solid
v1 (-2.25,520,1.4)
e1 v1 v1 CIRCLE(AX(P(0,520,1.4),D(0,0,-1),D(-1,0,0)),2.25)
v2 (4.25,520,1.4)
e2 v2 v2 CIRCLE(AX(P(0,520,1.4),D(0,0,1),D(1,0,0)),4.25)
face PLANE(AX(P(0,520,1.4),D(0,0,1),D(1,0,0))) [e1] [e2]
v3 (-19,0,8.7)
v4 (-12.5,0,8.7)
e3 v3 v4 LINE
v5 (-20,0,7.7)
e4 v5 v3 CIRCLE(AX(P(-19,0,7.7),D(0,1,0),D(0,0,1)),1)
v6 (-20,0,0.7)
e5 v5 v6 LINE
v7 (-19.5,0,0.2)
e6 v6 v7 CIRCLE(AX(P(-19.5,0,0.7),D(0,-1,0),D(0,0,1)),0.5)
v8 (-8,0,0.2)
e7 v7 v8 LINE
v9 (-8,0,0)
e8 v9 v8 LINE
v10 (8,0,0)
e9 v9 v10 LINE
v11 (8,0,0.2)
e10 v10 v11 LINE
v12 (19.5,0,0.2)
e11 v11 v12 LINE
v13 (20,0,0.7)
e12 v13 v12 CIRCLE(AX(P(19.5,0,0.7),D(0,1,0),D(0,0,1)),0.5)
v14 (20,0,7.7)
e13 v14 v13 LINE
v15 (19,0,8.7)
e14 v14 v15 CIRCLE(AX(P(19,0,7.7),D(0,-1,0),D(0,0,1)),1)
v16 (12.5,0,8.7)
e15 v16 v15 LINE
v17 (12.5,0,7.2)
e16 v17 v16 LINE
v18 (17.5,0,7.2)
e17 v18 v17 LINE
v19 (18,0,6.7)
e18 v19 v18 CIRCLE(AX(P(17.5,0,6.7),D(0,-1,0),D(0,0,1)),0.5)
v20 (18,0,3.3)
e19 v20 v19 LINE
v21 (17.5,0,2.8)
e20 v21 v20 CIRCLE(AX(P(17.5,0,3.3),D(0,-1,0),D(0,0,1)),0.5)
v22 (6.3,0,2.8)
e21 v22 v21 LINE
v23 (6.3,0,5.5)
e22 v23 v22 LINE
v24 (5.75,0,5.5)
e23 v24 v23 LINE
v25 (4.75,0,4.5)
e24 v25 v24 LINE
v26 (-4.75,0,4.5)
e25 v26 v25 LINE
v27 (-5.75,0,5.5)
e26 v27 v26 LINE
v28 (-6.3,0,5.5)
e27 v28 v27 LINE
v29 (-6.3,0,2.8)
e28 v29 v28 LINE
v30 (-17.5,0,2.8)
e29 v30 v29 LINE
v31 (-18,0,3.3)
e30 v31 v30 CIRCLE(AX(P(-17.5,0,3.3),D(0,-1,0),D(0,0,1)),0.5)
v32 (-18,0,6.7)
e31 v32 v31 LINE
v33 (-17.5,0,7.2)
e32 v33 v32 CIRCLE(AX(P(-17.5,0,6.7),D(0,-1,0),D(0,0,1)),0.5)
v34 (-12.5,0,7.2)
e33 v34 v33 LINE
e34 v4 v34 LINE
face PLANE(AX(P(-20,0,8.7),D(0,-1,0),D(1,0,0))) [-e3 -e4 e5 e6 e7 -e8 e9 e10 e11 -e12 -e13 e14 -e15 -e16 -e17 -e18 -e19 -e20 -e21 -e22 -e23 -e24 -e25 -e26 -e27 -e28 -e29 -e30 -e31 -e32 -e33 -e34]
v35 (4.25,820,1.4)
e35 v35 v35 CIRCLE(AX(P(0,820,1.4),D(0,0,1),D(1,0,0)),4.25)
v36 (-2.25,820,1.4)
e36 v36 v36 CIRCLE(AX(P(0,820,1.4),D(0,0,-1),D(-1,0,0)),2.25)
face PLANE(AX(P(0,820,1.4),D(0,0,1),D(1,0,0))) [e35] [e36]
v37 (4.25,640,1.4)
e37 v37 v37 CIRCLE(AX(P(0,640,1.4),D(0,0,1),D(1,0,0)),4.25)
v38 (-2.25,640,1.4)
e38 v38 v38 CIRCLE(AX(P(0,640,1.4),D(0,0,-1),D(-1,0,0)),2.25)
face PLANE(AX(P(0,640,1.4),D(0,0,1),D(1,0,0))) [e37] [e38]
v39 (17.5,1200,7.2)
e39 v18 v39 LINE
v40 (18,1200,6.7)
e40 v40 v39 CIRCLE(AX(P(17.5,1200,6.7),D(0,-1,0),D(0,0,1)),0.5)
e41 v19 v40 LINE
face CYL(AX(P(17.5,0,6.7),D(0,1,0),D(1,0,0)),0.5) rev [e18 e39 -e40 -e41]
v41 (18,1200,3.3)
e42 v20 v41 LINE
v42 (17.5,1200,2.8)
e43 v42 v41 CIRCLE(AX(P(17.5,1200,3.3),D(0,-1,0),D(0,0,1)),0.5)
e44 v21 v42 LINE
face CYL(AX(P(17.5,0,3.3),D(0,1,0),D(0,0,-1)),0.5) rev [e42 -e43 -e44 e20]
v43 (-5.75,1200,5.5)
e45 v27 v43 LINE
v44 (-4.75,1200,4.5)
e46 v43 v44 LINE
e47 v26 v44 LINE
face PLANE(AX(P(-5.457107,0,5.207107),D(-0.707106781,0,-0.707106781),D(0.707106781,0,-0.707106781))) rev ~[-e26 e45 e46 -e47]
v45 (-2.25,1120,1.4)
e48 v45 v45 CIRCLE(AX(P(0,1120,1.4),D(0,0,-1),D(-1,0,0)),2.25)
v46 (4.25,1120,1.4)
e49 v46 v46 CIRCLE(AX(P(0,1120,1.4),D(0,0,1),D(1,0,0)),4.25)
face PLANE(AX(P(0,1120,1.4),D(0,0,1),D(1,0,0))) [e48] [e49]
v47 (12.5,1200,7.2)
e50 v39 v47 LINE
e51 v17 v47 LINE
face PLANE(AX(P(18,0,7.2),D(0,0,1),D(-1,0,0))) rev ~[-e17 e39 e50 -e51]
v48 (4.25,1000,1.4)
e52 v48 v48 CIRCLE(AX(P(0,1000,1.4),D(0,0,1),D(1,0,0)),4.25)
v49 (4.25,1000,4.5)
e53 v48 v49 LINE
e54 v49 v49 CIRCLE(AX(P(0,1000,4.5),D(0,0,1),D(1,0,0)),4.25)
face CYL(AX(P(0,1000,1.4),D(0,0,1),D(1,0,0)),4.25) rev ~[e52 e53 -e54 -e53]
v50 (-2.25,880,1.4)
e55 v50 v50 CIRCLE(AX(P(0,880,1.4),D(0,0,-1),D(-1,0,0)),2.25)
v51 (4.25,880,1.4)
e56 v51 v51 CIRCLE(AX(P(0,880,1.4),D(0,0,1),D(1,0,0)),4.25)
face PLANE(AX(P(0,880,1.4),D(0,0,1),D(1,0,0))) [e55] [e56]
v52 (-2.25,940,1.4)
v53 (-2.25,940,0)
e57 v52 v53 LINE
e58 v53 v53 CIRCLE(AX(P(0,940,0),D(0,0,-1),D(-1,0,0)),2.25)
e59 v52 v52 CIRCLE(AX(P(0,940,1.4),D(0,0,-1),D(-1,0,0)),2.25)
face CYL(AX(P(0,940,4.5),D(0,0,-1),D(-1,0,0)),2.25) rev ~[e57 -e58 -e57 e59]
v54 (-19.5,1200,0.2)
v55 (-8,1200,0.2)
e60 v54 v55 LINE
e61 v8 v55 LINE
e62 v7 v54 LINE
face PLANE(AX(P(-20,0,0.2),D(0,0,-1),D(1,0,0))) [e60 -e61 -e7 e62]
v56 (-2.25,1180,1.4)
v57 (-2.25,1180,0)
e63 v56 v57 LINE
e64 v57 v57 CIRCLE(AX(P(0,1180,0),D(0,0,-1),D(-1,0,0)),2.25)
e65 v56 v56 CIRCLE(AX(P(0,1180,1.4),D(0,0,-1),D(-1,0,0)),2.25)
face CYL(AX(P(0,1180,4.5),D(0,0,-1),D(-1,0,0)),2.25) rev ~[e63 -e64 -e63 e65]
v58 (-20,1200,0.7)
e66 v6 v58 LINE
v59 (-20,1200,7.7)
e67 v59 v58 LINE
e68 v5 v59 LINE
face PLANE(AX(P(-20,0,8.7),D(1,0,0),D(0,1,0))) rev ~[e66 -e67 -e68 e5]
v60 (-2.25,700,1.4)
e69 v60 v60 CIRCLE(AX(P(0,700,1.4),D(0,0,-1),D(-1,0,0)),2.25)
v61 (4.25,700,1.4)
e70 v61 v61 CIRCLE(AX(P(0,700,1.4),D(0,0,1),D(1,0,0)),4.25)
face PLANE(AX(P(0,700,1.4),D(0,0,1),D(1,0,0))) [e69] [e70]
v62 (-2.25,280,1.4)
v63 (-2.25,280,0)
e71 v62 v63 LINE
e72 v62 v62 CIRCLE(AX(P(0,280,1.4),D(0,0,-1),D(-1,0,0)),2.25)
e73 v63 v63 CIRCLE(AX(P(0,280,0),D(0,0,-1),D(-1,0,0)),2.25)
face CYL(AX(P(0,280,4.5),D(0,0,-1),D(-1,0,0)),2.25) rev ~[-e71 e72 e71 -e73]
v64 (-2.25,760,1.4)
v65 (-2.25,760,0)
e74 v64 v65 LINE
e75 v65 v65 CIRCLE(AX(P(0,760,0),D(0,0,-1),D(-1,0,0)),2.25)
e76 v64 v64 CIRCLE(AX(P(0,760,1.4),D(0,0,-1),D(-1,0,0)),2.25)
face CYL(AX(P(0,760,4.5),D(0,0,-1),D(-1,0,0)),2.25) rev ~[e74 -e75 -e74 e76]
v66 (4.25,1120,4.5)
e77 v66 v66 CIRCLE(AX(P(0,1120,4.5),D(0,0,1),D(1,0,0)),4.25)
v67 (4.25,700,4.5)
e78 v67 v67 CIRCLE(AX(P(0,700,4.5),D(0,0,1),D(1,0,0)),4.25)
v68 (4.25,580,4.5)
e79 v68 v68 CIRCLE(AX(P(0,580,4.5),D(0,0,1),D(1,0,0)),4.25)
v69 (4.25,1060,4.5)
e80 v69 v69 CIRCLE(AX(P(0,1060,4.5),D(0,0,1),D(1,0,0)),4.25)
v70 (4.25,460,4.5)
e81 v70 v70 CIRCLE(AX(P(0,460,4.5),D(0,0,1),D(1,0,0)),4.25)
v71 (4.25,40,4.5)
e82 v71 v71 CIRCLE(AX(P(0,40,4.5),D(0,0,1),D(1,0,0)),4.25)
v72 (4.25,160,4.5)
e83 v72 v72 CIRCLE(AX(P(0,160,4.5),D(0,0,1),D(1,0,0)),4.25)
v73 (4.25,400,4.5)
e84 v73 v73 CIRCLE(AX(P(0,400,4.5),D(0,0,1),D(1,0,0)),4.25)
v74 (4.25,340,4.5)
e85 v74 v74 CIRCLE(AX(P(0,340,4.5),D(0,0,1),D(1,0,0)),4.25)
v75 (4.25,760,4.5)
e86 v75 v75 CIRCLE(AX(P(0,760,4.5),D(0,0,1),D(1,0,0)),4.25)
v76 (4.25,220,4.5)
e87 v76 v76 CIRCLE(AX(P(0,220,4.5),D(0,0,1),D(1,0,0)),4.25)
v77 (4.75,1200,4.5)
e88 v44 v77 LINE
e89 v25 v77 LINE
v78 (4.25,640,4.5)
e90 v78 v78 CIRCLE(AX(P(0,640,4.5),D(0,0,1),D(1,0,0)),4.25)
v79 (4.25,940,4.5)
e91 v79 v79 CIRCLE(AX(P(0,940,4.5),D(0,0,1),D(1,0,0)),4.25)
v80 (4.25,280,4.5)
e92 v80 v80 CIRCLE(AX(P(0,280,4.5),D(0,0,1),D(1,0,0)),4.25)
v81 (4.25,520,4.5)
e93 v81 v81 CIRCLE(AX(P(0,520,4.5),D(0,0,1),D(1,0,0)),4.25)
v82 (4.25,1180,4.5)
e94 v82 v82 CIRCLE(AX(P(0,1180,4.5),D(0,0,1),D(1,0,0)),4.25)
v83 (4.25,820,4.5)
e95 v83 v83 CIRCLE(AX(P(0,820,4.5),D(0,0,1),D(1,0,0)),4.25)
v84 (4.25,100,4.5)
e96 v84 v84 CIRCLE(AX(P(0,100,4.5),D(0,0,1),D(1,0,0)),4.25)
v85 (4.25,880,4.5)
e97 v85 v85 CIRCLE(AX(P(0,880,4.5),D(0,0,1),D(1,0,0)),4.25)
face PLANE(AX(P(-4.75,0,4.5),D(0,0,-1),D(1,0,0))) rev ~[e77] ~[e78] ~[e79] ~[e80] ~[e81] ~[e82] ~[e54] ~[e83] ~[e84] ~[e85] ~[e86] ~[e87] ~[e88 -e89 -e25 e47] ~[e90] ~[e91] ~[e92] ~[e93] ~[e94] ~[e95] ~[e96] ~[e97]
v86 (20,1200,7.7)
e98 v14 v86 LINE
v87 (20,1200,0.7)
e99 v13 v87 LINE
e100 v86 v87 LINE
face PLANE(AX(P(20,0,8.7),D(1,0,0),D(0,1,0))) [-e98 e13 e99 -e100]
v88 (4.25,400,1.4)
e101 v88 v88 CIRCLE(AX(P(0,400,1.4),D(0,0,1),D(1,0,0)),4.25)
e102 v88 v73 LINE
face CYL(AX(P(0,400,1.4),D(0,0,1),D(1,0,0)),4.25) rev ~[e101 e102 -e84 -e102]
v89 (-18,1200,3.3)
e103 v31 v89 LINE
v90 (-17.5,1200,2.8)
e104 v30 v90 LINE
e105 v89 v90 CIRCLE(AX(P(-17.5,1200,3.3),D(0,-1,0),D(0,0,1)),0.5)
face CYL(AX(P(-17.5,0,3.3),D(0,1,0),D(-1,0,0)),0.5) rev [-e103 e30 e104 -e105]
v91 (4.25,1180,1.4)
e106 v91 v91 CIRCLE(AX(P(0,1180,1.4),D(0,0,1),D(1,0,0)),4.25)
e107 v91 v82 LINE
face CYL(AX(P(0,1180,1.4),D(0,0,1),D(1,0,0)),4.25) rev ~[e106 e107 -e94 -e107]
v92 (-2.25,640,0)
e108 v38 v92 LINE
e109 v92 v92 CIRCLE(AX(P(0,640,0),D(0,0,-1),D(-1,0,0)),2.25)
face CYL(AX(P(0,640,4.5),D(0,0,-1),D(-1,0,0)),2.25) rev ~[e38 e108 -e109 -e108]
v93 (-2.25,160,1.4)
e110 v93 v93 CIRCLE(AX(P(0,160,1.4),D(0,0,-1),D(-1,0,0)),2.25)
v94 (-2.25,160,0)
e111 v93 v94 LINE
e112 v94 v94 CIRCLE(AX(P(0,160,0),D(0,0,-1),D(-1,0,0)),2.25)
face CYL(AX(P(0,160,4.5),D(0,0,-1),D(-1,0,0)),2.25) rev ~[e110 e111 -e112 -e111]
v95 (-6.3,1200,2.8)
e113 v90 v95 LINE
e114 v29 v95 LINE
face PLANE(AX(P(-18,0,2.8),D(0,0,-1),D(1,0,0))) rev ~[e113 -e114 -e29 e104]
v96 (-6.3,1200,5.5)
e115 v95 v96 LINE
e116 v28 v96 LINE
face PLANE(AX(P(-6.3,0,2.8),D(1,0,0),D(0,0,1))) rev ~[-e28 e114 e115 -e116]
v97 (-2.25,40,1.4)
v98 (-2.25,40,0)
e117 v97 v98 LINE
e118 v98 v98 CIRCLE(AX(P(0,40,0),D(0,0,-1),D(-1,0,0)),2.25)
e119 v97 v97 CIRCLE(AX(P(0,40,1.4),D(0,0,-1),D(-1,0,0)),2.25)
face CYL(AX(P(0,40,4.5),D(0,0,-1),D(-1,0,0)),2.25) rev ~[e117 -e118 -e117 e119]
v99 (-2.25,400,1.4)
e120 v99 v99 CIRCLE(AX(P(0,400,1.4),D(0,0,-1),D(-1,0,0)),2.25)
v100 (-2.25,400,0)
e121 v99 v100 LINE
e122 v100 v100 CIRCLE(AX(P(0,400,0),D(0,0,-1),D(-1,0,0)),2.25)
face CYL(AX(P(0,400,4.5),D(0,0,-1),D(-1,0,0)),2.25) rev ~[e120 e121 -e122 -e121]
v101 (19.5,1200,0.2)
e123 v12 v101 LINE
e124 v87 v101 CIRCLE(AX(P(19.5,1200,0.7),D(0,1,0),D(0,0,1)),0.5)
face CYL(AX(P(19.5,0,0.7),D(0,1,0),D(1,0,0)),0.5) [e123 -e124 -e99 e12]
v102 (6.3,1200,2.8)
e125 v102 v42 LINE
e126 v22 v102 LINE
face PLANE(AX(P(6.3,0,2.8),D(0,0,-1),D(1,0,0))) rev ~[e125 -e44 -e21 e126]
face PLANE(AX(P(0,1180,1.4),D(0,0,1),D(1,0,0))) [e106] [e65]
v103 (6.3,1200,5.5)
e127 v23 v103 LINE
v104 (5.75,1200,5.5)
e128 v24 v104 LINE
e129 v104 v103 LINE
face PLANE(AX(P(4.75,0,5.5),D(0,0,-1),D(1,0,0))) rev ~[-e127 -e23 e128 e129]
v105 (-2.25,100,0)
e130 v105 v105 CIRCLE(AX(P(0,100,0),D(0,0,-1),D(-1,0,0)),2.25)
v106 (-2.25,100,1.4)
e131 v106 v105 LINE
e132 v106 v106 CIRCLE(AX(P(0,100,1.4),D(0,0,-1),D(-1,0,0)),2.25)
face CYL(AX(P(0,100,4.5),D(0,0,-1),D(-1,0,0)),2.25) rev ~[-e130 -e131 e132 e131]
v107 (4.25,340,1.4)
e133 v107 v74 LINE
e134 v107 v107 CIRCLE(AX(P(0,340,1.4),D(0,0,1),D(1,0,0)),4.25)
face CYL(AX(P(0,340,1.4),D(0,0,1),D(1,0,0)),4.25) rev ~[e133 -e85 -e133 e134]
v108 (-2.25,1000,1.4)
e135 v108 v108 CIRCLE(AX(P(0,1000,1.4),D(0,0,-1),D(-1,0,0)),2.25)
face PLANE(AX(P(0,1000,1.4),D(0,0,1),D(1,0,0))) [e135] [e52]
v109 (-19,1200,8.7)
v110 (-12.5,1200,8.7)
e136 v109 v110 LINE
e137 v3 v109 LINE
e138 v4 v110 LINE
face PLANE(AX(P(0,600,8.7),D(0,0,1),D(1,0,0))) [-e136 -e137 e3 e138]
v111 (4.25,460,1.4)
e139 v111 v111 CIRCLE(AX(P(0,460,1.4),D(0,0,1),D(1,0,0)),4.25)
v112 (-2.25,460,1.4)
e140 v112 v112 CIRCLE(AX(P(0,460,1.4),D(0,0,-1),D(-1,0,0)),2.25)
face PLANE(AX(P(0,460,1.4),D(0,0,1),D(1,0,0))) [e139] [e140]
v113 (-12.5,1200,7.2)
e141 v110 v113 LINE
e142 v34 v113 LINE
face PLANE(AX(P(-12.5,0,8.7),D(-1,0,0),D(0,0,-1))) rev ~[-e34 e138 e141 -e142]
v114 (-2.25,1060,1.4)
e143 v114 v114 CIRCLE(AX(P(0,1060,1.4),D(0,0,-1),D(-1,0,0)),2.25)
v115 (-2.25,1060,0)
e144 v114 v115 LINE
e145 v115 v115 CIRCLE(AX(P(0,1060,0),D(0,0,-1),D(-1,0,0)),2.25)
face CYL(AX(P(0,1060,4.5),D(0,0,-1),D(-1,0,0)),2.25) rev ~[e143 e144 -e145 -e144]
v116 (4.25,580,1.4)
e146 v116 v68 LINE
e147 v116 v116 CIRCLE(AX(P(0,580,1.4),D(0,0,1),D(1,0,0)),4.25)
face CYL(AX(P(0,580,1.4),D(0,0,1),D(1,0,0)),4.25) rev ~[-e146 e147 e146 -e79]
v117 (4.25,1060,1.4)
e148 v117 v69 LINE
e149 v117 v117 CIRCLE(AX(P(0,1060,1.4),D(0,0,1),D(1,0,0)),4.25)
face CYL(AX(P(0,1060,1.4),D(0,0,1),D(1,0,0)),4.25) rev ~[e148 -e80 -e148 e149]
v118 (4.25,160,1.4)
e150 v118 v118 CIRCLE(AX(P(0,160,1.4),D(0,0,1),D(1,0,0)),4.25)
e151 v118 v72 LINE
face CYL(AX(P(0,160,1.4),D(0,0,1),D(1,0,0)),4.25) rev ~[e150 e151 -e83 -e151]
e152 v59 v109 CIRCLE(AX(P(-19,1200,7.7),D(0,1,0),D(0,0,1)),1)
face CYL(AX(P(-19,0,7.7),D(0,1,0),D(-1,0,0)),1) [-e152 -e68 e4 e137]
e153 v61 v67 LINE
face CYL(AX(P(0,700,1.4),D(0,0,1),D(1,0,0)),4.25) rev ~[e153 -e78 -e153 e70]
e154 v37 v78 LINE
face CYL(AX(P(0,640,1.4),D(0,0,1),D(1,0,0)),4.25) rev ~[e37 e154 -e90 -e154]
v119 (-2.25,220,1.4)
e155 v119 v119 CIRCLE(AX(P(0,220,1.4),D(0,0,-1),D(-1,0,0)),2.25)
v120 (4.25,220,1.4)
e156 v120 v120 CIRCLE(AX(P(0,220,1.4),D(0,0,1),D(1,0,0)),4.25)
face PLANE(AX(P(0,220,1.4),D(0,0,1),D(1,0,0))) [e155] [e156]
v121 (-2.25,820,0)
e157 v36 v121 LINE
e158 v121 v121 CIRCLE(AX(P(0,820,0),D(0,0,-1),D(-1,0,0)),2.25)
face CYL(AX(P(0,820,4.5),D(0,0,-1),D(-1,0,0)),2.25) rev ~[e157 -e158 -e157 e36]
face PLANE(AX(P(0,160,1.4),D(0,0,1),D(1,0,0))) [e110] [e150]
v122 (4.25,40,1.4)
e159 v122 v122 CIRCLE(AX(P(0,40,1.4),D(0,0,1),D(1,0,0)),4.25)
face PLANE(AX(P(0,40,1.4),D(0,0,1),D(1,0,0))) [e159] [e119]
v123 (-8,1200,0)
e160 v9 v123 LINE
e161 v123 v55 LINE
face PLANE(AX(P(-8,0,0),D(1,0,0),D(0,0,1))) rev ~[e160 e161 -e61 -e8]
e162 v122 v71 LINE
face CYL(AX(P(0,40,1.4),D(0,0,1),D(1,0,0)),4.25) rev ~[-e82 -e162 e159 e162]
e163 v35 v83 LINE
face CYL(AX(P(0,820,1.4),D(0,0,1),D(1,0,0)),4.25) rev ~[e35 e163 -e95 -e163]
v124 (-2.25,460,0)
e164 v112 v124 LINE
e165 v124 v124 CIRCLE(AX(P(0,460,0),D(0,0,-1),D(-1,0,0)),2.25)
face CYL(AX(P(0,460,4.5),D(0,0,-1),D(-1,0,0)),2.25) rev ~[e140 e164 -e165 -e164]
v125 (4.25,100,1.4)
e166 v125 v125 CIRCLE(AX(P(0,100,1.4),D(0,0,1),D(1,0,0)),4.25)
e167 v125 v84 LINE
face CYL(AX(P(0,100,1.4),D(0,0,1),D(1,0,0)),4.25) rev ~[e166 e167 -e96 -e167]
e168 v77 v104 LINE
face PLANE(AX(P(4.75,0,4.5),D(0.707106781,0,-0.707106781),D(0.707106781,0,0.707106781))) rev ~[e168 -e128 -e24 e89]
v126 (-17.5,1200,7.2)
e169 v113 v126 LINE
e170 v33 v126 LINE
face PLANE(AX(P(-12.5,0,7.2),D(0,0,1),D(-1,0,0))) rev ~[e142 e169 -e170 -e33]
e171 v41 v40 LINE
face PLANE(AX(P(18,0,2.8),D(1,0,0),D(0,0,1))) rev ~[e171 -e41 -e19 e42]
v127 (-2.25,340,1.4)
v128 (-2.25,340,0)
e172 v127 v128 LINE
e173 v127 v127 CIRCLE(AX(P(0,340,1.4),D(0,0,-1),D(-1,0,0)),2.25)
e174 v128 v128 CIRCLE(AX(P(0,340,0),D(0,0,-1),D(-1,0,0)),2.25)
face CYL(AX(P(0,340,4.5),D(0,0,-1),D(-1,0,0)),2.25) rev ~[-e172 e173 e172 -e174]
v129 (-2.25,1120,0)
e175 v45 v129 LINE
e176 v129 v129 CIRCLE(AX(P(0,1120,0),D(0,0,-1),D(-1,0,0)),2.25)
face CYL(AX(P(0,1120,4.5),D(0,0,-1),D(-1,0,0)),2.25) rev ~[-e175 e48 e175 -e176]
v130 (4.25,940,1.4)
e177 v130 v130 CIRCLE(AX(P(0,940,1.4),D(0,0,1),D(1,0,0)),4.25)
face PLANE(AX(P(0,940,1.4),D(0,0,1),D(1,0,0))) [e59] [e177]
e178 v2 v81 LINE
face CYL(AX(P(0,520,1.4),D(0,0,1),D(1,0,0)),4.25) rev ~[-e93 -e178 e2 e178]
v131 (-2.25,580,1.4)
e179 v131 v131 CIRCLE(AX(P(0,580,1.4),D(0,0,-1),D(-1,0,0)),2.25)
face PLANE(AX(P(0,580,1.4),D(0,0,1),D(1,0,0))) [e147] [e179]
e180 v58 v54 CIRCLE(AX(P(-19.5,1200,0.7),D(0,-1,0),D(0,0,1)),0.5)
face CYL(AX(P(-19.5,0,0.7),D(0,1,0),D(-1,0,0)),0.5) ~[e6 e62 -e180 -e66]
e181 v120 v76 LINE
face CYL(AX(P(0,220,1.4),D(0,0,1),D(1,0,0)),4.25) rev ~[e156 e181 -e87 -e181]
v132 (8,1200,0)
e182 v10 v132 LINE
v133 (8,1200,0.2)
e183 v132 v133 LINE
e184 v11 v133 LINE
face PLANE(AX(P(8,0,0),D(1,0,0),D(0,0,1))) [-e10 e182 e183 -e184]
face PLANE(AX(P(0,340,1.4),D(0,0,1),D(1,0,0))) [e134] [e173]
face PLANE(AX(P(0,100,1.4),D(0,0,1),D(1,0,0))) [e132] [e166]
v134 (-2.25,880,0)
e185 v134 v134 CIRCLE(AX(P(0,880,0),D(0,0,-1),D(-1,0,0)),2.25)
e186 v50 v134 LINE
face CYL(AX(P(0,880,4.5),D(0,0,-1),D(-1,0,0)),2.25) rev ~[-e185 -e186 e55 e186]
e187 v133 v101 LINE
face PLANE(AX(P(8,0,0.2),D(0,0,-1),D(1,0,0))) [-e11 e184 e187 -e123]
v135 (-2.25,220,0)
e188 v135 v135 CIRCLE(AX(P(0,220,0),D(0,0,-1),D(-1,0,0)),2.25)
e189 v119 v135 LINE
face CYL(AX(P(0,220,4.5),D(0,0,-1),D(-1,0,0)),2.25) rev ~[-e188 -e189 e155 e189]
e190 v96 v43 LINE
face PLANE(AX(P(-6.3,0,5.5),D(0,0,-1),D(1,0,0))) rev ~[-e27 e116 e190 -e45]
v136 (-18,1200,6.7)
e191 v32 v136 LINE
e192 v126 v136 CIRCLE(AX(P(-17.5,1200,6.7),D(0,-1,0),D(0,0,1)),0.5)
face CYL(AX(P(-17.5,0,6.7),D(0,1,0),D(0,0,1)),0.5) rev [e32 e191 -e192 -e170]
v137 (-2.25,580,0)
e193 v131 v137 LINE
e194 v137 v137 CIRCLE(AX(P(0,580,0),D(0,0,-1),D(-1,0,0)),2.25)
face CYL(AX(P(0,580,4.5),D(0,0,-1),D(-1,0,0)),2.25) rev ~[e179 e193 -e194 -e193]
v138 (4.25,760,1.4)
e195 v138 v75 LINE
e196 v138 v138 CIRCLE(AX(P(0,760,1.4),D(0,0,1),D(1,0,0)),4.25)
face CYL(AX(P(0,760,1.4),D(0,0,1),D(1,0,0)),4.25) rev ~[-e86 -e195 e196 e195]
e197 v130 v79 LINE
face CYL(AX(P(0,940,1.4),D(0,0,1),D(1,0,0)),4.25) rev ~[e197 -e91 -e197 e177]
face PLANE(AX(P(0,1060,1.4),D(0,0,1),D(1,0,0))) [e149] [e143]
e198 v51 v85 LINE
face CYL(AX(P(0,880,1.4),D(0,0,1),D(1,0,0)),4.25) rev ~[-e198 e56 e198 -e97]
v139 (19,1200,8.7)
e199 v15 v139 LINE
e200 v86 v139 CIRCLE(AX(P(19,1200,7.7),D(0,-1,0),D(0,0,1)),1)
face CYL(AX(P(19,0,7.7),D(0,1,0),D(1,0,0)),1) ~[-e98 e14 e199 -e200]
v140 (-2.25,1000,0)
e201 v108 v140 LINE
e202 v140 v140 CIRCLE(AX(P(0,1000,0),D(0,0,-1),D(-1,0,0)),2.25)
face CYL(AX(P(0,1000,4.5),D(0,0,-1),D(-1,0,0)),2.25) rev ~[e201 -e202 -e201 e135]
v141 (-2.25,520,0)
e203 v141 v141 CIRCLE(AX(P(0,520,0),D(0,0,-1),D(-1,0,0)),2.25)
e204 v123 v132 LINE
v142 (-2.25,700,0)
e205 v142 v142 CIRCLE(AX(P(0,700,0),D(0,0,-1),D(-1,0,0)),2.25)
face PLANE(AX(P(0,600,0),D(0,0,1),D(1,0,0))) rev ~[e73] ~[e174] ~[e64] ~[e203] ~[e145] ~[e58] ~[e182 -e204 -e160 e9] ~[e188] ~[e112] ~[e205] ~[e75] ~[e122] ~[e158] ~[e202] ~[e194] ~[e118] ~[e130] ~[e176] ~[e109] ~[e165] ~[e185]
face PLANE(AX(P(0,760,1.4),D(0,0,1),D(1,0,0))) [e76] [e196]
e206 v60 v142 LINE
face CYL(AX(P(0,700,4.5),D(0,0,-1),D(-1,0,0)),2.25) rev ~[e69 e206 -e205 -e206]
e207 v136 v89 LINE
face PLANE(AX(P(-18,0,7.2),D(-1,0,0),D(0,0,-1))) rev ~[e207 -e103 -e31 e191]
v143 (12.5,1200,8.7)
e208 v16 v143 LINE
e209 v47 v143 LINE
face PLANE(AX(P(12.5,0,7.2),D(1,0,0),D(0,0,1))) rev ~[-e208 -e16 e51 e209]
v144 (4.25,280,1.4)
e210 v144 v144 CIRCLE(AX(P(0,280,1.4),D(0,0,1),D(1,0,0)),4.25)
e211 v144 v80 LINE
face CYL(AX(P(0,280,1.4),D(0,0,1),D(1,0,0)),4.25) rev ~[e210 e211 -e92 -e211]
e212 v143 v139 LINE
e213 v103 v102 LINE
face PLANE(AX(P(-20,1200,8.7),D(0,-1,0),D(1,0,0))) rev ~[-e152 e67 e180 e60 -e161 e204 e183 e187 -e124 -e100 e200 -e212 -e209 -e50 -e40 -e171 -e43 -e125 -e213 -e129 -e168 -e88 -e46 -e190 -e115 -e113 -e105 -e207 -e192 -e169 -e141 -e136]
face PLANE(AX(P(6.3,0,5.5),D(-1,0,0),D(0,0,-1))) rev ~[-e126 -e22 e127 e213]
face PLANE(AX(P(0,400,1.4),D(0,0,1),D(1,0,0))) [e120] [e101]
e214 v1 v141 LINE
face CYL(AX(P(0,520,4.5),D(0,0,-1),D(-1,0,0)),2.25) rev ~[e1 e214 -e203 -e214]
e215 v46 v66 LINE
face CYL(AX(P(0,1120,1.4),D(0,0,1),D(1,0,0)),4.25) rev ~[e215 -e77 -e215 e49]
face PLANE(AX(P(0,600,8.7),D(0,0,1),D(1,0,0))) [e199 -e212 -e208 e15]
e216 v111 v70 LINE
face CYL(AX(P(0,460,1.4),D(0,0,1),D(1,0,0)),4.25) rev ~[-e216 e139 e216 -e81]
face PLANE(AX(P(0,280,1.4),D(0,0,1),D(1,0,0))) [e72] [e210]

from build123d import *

# Parameters (mm, degrees)
SKETCH1_W                                        = 40
SKETCH1_H                                        = 1200
BOSS_EXTRUDE1_DEPTH                              = 8.7
CUT_EXTRUDE1_DEPTH                               = 1201
SKETCH3_W                                        = 12
SKETCH3_H                                        = 0.2
CUT_EXTRUDE2_DEPTH                               = 1201
SKETCH4_W                                        = 12
SKETCH4_H                                        = 0.2
CUT_EXTRUDE3_DEPTH                               = 1201
DRAFT1_ANGLE                                     = 45
CBORE_FOR_M4_HEX_HEAD_MACHINE_SCREW1_D           = 4.5
CBORE_FOR_M4_HEX_HEAD_MACHINE_SCREW1_DEPTH       = 4.5
CBORE_FOR_M4_HEX_HEAD_MACHINE_SCREW1_CBORE_D     = 8.5
CBORE_FOR_M4_HEX_HEAD_MACHINE_SCREW1_CBORE_DEPTH = 3.1
FILLET1_R                                        = 0.5
FILLET2_R                                        = 1


with BuildPart() as part:
    # Sketch1 → Boss-Extrude1 (new body)
    with BuildSketch(Plane.XY.offset(8.7)):
        with Locations((0, 600)):
            Rectangle(SKETCH1_W, SKETCH1_H)
    extrude(amount=-BOSS_EXTRUDE1_DEPTH)

    # Sketch2 → Cut-Extrude1 (cut, through all)
    with BuildSketch(Plane.XZ):
        Polygon((12.5, 8.7), (-12.5, 8.7), (-12.5, 7.2), (-18, 7.2), (-18, 2.8), (-6.3, 2.8), (-6.3, 5.5), (-4.75, 5.5), (-4.75, 4.5), (4.75, 4.5), (4.75, 5.5), (6.3, 5.5), (6.3, 2.8), (18, 2.8), (18, 7.2), (12.5, 7.2), align=None)
    extrude(amount=-CUT_EXTRUDE1_DEPTH, mode=Mode.SUBTRACT)

    # Sketch3 → Cut-Extrude2 (cut, through all)
    with BuildSketch(Plane.XZ):
        with Locations((14, 0.1)):
            Rectangle(SKETCH3_W, SKETCH3_H)
    extrude(amount=-CUT_EXTRUDE2_DEPTH, mode=Mode.SUBTRACT)

    # Sketch4 → Cut-Extrude3 (cut, through all)
    with BuildSketch(Plane.XZ):
        with Locations((-14, 0.1)):
            Rectangle(SKETCH4_W, SKETCH4_H)
    extrude(amount=-CUT_EXTRUDE3_DEPTH, mode=Mode.SUBTRACT)

    # Draft1
    draft1_faces = [part.faces().sort_by_distance(p)[0] for p in [
        (4.75, 600, 5),
        (-4.75, 600, 5),
    ]]
    draft(draft1_faces, Plane(origin=(-4.75, 1200, 4.5), x_dir=(1, 0, 0), z_dir=(0, 0, 1)), DRAFT1_ANGLE)

    # CBORE for M4 Hex Head Machine Screw1
    with Locations(Plane.XY.offset(4.5)):
        with Locations((0, 160), (0, 100), (0, 40), (0, 220), (0, 280), (0, 340), (0, 400), (0, 460), (0, 520), (0, 580), (0, 640), (0, 700), (0, 760), (0, 820), (0, 880), (0, 940), (0, 1000), (0, 1060), (0, 1120), (0, 1180)):
            CounterBoreHole(CBORE_FOR_M4_HEX_HEAD_MACHINE_SCREW1_D / 2, CBORE_FOR_M4_HEX_HEAD_MACHINE_SCREW1_CBORE_D / 2, CBORE_FOR_M4_HEX_HEAD_MACHINE_SCREW1_CBORE_DEPTH, depth=CBORE_FOR_M4_HEX_HEAD_MACHINE_SCREW1_DEPTH)

    # Fillet1
    fillet1_edges = [part.edges().sort_by_distance(p)[0] for p in [
        (18, 600, 7.2),
        (18, 600, 2.8),
        (-18, 600, 2.8),
        (-18, 600, 7.2),
        (20, 600, 0.2),
        (-20, 600, 0.2),
    ]]
    fillet(fillet1_edges, radius=FILLET1_R)

    # Fillet2
    fillet2_edges = [part.edges().sort_by_distance(p)[0] for p in [
        (20, 600, 8.7),
        (-20, 600, 8.7),
    ]]
    fillet(fillet2_edges, radius=FILLET2_R)


solid = part.part
